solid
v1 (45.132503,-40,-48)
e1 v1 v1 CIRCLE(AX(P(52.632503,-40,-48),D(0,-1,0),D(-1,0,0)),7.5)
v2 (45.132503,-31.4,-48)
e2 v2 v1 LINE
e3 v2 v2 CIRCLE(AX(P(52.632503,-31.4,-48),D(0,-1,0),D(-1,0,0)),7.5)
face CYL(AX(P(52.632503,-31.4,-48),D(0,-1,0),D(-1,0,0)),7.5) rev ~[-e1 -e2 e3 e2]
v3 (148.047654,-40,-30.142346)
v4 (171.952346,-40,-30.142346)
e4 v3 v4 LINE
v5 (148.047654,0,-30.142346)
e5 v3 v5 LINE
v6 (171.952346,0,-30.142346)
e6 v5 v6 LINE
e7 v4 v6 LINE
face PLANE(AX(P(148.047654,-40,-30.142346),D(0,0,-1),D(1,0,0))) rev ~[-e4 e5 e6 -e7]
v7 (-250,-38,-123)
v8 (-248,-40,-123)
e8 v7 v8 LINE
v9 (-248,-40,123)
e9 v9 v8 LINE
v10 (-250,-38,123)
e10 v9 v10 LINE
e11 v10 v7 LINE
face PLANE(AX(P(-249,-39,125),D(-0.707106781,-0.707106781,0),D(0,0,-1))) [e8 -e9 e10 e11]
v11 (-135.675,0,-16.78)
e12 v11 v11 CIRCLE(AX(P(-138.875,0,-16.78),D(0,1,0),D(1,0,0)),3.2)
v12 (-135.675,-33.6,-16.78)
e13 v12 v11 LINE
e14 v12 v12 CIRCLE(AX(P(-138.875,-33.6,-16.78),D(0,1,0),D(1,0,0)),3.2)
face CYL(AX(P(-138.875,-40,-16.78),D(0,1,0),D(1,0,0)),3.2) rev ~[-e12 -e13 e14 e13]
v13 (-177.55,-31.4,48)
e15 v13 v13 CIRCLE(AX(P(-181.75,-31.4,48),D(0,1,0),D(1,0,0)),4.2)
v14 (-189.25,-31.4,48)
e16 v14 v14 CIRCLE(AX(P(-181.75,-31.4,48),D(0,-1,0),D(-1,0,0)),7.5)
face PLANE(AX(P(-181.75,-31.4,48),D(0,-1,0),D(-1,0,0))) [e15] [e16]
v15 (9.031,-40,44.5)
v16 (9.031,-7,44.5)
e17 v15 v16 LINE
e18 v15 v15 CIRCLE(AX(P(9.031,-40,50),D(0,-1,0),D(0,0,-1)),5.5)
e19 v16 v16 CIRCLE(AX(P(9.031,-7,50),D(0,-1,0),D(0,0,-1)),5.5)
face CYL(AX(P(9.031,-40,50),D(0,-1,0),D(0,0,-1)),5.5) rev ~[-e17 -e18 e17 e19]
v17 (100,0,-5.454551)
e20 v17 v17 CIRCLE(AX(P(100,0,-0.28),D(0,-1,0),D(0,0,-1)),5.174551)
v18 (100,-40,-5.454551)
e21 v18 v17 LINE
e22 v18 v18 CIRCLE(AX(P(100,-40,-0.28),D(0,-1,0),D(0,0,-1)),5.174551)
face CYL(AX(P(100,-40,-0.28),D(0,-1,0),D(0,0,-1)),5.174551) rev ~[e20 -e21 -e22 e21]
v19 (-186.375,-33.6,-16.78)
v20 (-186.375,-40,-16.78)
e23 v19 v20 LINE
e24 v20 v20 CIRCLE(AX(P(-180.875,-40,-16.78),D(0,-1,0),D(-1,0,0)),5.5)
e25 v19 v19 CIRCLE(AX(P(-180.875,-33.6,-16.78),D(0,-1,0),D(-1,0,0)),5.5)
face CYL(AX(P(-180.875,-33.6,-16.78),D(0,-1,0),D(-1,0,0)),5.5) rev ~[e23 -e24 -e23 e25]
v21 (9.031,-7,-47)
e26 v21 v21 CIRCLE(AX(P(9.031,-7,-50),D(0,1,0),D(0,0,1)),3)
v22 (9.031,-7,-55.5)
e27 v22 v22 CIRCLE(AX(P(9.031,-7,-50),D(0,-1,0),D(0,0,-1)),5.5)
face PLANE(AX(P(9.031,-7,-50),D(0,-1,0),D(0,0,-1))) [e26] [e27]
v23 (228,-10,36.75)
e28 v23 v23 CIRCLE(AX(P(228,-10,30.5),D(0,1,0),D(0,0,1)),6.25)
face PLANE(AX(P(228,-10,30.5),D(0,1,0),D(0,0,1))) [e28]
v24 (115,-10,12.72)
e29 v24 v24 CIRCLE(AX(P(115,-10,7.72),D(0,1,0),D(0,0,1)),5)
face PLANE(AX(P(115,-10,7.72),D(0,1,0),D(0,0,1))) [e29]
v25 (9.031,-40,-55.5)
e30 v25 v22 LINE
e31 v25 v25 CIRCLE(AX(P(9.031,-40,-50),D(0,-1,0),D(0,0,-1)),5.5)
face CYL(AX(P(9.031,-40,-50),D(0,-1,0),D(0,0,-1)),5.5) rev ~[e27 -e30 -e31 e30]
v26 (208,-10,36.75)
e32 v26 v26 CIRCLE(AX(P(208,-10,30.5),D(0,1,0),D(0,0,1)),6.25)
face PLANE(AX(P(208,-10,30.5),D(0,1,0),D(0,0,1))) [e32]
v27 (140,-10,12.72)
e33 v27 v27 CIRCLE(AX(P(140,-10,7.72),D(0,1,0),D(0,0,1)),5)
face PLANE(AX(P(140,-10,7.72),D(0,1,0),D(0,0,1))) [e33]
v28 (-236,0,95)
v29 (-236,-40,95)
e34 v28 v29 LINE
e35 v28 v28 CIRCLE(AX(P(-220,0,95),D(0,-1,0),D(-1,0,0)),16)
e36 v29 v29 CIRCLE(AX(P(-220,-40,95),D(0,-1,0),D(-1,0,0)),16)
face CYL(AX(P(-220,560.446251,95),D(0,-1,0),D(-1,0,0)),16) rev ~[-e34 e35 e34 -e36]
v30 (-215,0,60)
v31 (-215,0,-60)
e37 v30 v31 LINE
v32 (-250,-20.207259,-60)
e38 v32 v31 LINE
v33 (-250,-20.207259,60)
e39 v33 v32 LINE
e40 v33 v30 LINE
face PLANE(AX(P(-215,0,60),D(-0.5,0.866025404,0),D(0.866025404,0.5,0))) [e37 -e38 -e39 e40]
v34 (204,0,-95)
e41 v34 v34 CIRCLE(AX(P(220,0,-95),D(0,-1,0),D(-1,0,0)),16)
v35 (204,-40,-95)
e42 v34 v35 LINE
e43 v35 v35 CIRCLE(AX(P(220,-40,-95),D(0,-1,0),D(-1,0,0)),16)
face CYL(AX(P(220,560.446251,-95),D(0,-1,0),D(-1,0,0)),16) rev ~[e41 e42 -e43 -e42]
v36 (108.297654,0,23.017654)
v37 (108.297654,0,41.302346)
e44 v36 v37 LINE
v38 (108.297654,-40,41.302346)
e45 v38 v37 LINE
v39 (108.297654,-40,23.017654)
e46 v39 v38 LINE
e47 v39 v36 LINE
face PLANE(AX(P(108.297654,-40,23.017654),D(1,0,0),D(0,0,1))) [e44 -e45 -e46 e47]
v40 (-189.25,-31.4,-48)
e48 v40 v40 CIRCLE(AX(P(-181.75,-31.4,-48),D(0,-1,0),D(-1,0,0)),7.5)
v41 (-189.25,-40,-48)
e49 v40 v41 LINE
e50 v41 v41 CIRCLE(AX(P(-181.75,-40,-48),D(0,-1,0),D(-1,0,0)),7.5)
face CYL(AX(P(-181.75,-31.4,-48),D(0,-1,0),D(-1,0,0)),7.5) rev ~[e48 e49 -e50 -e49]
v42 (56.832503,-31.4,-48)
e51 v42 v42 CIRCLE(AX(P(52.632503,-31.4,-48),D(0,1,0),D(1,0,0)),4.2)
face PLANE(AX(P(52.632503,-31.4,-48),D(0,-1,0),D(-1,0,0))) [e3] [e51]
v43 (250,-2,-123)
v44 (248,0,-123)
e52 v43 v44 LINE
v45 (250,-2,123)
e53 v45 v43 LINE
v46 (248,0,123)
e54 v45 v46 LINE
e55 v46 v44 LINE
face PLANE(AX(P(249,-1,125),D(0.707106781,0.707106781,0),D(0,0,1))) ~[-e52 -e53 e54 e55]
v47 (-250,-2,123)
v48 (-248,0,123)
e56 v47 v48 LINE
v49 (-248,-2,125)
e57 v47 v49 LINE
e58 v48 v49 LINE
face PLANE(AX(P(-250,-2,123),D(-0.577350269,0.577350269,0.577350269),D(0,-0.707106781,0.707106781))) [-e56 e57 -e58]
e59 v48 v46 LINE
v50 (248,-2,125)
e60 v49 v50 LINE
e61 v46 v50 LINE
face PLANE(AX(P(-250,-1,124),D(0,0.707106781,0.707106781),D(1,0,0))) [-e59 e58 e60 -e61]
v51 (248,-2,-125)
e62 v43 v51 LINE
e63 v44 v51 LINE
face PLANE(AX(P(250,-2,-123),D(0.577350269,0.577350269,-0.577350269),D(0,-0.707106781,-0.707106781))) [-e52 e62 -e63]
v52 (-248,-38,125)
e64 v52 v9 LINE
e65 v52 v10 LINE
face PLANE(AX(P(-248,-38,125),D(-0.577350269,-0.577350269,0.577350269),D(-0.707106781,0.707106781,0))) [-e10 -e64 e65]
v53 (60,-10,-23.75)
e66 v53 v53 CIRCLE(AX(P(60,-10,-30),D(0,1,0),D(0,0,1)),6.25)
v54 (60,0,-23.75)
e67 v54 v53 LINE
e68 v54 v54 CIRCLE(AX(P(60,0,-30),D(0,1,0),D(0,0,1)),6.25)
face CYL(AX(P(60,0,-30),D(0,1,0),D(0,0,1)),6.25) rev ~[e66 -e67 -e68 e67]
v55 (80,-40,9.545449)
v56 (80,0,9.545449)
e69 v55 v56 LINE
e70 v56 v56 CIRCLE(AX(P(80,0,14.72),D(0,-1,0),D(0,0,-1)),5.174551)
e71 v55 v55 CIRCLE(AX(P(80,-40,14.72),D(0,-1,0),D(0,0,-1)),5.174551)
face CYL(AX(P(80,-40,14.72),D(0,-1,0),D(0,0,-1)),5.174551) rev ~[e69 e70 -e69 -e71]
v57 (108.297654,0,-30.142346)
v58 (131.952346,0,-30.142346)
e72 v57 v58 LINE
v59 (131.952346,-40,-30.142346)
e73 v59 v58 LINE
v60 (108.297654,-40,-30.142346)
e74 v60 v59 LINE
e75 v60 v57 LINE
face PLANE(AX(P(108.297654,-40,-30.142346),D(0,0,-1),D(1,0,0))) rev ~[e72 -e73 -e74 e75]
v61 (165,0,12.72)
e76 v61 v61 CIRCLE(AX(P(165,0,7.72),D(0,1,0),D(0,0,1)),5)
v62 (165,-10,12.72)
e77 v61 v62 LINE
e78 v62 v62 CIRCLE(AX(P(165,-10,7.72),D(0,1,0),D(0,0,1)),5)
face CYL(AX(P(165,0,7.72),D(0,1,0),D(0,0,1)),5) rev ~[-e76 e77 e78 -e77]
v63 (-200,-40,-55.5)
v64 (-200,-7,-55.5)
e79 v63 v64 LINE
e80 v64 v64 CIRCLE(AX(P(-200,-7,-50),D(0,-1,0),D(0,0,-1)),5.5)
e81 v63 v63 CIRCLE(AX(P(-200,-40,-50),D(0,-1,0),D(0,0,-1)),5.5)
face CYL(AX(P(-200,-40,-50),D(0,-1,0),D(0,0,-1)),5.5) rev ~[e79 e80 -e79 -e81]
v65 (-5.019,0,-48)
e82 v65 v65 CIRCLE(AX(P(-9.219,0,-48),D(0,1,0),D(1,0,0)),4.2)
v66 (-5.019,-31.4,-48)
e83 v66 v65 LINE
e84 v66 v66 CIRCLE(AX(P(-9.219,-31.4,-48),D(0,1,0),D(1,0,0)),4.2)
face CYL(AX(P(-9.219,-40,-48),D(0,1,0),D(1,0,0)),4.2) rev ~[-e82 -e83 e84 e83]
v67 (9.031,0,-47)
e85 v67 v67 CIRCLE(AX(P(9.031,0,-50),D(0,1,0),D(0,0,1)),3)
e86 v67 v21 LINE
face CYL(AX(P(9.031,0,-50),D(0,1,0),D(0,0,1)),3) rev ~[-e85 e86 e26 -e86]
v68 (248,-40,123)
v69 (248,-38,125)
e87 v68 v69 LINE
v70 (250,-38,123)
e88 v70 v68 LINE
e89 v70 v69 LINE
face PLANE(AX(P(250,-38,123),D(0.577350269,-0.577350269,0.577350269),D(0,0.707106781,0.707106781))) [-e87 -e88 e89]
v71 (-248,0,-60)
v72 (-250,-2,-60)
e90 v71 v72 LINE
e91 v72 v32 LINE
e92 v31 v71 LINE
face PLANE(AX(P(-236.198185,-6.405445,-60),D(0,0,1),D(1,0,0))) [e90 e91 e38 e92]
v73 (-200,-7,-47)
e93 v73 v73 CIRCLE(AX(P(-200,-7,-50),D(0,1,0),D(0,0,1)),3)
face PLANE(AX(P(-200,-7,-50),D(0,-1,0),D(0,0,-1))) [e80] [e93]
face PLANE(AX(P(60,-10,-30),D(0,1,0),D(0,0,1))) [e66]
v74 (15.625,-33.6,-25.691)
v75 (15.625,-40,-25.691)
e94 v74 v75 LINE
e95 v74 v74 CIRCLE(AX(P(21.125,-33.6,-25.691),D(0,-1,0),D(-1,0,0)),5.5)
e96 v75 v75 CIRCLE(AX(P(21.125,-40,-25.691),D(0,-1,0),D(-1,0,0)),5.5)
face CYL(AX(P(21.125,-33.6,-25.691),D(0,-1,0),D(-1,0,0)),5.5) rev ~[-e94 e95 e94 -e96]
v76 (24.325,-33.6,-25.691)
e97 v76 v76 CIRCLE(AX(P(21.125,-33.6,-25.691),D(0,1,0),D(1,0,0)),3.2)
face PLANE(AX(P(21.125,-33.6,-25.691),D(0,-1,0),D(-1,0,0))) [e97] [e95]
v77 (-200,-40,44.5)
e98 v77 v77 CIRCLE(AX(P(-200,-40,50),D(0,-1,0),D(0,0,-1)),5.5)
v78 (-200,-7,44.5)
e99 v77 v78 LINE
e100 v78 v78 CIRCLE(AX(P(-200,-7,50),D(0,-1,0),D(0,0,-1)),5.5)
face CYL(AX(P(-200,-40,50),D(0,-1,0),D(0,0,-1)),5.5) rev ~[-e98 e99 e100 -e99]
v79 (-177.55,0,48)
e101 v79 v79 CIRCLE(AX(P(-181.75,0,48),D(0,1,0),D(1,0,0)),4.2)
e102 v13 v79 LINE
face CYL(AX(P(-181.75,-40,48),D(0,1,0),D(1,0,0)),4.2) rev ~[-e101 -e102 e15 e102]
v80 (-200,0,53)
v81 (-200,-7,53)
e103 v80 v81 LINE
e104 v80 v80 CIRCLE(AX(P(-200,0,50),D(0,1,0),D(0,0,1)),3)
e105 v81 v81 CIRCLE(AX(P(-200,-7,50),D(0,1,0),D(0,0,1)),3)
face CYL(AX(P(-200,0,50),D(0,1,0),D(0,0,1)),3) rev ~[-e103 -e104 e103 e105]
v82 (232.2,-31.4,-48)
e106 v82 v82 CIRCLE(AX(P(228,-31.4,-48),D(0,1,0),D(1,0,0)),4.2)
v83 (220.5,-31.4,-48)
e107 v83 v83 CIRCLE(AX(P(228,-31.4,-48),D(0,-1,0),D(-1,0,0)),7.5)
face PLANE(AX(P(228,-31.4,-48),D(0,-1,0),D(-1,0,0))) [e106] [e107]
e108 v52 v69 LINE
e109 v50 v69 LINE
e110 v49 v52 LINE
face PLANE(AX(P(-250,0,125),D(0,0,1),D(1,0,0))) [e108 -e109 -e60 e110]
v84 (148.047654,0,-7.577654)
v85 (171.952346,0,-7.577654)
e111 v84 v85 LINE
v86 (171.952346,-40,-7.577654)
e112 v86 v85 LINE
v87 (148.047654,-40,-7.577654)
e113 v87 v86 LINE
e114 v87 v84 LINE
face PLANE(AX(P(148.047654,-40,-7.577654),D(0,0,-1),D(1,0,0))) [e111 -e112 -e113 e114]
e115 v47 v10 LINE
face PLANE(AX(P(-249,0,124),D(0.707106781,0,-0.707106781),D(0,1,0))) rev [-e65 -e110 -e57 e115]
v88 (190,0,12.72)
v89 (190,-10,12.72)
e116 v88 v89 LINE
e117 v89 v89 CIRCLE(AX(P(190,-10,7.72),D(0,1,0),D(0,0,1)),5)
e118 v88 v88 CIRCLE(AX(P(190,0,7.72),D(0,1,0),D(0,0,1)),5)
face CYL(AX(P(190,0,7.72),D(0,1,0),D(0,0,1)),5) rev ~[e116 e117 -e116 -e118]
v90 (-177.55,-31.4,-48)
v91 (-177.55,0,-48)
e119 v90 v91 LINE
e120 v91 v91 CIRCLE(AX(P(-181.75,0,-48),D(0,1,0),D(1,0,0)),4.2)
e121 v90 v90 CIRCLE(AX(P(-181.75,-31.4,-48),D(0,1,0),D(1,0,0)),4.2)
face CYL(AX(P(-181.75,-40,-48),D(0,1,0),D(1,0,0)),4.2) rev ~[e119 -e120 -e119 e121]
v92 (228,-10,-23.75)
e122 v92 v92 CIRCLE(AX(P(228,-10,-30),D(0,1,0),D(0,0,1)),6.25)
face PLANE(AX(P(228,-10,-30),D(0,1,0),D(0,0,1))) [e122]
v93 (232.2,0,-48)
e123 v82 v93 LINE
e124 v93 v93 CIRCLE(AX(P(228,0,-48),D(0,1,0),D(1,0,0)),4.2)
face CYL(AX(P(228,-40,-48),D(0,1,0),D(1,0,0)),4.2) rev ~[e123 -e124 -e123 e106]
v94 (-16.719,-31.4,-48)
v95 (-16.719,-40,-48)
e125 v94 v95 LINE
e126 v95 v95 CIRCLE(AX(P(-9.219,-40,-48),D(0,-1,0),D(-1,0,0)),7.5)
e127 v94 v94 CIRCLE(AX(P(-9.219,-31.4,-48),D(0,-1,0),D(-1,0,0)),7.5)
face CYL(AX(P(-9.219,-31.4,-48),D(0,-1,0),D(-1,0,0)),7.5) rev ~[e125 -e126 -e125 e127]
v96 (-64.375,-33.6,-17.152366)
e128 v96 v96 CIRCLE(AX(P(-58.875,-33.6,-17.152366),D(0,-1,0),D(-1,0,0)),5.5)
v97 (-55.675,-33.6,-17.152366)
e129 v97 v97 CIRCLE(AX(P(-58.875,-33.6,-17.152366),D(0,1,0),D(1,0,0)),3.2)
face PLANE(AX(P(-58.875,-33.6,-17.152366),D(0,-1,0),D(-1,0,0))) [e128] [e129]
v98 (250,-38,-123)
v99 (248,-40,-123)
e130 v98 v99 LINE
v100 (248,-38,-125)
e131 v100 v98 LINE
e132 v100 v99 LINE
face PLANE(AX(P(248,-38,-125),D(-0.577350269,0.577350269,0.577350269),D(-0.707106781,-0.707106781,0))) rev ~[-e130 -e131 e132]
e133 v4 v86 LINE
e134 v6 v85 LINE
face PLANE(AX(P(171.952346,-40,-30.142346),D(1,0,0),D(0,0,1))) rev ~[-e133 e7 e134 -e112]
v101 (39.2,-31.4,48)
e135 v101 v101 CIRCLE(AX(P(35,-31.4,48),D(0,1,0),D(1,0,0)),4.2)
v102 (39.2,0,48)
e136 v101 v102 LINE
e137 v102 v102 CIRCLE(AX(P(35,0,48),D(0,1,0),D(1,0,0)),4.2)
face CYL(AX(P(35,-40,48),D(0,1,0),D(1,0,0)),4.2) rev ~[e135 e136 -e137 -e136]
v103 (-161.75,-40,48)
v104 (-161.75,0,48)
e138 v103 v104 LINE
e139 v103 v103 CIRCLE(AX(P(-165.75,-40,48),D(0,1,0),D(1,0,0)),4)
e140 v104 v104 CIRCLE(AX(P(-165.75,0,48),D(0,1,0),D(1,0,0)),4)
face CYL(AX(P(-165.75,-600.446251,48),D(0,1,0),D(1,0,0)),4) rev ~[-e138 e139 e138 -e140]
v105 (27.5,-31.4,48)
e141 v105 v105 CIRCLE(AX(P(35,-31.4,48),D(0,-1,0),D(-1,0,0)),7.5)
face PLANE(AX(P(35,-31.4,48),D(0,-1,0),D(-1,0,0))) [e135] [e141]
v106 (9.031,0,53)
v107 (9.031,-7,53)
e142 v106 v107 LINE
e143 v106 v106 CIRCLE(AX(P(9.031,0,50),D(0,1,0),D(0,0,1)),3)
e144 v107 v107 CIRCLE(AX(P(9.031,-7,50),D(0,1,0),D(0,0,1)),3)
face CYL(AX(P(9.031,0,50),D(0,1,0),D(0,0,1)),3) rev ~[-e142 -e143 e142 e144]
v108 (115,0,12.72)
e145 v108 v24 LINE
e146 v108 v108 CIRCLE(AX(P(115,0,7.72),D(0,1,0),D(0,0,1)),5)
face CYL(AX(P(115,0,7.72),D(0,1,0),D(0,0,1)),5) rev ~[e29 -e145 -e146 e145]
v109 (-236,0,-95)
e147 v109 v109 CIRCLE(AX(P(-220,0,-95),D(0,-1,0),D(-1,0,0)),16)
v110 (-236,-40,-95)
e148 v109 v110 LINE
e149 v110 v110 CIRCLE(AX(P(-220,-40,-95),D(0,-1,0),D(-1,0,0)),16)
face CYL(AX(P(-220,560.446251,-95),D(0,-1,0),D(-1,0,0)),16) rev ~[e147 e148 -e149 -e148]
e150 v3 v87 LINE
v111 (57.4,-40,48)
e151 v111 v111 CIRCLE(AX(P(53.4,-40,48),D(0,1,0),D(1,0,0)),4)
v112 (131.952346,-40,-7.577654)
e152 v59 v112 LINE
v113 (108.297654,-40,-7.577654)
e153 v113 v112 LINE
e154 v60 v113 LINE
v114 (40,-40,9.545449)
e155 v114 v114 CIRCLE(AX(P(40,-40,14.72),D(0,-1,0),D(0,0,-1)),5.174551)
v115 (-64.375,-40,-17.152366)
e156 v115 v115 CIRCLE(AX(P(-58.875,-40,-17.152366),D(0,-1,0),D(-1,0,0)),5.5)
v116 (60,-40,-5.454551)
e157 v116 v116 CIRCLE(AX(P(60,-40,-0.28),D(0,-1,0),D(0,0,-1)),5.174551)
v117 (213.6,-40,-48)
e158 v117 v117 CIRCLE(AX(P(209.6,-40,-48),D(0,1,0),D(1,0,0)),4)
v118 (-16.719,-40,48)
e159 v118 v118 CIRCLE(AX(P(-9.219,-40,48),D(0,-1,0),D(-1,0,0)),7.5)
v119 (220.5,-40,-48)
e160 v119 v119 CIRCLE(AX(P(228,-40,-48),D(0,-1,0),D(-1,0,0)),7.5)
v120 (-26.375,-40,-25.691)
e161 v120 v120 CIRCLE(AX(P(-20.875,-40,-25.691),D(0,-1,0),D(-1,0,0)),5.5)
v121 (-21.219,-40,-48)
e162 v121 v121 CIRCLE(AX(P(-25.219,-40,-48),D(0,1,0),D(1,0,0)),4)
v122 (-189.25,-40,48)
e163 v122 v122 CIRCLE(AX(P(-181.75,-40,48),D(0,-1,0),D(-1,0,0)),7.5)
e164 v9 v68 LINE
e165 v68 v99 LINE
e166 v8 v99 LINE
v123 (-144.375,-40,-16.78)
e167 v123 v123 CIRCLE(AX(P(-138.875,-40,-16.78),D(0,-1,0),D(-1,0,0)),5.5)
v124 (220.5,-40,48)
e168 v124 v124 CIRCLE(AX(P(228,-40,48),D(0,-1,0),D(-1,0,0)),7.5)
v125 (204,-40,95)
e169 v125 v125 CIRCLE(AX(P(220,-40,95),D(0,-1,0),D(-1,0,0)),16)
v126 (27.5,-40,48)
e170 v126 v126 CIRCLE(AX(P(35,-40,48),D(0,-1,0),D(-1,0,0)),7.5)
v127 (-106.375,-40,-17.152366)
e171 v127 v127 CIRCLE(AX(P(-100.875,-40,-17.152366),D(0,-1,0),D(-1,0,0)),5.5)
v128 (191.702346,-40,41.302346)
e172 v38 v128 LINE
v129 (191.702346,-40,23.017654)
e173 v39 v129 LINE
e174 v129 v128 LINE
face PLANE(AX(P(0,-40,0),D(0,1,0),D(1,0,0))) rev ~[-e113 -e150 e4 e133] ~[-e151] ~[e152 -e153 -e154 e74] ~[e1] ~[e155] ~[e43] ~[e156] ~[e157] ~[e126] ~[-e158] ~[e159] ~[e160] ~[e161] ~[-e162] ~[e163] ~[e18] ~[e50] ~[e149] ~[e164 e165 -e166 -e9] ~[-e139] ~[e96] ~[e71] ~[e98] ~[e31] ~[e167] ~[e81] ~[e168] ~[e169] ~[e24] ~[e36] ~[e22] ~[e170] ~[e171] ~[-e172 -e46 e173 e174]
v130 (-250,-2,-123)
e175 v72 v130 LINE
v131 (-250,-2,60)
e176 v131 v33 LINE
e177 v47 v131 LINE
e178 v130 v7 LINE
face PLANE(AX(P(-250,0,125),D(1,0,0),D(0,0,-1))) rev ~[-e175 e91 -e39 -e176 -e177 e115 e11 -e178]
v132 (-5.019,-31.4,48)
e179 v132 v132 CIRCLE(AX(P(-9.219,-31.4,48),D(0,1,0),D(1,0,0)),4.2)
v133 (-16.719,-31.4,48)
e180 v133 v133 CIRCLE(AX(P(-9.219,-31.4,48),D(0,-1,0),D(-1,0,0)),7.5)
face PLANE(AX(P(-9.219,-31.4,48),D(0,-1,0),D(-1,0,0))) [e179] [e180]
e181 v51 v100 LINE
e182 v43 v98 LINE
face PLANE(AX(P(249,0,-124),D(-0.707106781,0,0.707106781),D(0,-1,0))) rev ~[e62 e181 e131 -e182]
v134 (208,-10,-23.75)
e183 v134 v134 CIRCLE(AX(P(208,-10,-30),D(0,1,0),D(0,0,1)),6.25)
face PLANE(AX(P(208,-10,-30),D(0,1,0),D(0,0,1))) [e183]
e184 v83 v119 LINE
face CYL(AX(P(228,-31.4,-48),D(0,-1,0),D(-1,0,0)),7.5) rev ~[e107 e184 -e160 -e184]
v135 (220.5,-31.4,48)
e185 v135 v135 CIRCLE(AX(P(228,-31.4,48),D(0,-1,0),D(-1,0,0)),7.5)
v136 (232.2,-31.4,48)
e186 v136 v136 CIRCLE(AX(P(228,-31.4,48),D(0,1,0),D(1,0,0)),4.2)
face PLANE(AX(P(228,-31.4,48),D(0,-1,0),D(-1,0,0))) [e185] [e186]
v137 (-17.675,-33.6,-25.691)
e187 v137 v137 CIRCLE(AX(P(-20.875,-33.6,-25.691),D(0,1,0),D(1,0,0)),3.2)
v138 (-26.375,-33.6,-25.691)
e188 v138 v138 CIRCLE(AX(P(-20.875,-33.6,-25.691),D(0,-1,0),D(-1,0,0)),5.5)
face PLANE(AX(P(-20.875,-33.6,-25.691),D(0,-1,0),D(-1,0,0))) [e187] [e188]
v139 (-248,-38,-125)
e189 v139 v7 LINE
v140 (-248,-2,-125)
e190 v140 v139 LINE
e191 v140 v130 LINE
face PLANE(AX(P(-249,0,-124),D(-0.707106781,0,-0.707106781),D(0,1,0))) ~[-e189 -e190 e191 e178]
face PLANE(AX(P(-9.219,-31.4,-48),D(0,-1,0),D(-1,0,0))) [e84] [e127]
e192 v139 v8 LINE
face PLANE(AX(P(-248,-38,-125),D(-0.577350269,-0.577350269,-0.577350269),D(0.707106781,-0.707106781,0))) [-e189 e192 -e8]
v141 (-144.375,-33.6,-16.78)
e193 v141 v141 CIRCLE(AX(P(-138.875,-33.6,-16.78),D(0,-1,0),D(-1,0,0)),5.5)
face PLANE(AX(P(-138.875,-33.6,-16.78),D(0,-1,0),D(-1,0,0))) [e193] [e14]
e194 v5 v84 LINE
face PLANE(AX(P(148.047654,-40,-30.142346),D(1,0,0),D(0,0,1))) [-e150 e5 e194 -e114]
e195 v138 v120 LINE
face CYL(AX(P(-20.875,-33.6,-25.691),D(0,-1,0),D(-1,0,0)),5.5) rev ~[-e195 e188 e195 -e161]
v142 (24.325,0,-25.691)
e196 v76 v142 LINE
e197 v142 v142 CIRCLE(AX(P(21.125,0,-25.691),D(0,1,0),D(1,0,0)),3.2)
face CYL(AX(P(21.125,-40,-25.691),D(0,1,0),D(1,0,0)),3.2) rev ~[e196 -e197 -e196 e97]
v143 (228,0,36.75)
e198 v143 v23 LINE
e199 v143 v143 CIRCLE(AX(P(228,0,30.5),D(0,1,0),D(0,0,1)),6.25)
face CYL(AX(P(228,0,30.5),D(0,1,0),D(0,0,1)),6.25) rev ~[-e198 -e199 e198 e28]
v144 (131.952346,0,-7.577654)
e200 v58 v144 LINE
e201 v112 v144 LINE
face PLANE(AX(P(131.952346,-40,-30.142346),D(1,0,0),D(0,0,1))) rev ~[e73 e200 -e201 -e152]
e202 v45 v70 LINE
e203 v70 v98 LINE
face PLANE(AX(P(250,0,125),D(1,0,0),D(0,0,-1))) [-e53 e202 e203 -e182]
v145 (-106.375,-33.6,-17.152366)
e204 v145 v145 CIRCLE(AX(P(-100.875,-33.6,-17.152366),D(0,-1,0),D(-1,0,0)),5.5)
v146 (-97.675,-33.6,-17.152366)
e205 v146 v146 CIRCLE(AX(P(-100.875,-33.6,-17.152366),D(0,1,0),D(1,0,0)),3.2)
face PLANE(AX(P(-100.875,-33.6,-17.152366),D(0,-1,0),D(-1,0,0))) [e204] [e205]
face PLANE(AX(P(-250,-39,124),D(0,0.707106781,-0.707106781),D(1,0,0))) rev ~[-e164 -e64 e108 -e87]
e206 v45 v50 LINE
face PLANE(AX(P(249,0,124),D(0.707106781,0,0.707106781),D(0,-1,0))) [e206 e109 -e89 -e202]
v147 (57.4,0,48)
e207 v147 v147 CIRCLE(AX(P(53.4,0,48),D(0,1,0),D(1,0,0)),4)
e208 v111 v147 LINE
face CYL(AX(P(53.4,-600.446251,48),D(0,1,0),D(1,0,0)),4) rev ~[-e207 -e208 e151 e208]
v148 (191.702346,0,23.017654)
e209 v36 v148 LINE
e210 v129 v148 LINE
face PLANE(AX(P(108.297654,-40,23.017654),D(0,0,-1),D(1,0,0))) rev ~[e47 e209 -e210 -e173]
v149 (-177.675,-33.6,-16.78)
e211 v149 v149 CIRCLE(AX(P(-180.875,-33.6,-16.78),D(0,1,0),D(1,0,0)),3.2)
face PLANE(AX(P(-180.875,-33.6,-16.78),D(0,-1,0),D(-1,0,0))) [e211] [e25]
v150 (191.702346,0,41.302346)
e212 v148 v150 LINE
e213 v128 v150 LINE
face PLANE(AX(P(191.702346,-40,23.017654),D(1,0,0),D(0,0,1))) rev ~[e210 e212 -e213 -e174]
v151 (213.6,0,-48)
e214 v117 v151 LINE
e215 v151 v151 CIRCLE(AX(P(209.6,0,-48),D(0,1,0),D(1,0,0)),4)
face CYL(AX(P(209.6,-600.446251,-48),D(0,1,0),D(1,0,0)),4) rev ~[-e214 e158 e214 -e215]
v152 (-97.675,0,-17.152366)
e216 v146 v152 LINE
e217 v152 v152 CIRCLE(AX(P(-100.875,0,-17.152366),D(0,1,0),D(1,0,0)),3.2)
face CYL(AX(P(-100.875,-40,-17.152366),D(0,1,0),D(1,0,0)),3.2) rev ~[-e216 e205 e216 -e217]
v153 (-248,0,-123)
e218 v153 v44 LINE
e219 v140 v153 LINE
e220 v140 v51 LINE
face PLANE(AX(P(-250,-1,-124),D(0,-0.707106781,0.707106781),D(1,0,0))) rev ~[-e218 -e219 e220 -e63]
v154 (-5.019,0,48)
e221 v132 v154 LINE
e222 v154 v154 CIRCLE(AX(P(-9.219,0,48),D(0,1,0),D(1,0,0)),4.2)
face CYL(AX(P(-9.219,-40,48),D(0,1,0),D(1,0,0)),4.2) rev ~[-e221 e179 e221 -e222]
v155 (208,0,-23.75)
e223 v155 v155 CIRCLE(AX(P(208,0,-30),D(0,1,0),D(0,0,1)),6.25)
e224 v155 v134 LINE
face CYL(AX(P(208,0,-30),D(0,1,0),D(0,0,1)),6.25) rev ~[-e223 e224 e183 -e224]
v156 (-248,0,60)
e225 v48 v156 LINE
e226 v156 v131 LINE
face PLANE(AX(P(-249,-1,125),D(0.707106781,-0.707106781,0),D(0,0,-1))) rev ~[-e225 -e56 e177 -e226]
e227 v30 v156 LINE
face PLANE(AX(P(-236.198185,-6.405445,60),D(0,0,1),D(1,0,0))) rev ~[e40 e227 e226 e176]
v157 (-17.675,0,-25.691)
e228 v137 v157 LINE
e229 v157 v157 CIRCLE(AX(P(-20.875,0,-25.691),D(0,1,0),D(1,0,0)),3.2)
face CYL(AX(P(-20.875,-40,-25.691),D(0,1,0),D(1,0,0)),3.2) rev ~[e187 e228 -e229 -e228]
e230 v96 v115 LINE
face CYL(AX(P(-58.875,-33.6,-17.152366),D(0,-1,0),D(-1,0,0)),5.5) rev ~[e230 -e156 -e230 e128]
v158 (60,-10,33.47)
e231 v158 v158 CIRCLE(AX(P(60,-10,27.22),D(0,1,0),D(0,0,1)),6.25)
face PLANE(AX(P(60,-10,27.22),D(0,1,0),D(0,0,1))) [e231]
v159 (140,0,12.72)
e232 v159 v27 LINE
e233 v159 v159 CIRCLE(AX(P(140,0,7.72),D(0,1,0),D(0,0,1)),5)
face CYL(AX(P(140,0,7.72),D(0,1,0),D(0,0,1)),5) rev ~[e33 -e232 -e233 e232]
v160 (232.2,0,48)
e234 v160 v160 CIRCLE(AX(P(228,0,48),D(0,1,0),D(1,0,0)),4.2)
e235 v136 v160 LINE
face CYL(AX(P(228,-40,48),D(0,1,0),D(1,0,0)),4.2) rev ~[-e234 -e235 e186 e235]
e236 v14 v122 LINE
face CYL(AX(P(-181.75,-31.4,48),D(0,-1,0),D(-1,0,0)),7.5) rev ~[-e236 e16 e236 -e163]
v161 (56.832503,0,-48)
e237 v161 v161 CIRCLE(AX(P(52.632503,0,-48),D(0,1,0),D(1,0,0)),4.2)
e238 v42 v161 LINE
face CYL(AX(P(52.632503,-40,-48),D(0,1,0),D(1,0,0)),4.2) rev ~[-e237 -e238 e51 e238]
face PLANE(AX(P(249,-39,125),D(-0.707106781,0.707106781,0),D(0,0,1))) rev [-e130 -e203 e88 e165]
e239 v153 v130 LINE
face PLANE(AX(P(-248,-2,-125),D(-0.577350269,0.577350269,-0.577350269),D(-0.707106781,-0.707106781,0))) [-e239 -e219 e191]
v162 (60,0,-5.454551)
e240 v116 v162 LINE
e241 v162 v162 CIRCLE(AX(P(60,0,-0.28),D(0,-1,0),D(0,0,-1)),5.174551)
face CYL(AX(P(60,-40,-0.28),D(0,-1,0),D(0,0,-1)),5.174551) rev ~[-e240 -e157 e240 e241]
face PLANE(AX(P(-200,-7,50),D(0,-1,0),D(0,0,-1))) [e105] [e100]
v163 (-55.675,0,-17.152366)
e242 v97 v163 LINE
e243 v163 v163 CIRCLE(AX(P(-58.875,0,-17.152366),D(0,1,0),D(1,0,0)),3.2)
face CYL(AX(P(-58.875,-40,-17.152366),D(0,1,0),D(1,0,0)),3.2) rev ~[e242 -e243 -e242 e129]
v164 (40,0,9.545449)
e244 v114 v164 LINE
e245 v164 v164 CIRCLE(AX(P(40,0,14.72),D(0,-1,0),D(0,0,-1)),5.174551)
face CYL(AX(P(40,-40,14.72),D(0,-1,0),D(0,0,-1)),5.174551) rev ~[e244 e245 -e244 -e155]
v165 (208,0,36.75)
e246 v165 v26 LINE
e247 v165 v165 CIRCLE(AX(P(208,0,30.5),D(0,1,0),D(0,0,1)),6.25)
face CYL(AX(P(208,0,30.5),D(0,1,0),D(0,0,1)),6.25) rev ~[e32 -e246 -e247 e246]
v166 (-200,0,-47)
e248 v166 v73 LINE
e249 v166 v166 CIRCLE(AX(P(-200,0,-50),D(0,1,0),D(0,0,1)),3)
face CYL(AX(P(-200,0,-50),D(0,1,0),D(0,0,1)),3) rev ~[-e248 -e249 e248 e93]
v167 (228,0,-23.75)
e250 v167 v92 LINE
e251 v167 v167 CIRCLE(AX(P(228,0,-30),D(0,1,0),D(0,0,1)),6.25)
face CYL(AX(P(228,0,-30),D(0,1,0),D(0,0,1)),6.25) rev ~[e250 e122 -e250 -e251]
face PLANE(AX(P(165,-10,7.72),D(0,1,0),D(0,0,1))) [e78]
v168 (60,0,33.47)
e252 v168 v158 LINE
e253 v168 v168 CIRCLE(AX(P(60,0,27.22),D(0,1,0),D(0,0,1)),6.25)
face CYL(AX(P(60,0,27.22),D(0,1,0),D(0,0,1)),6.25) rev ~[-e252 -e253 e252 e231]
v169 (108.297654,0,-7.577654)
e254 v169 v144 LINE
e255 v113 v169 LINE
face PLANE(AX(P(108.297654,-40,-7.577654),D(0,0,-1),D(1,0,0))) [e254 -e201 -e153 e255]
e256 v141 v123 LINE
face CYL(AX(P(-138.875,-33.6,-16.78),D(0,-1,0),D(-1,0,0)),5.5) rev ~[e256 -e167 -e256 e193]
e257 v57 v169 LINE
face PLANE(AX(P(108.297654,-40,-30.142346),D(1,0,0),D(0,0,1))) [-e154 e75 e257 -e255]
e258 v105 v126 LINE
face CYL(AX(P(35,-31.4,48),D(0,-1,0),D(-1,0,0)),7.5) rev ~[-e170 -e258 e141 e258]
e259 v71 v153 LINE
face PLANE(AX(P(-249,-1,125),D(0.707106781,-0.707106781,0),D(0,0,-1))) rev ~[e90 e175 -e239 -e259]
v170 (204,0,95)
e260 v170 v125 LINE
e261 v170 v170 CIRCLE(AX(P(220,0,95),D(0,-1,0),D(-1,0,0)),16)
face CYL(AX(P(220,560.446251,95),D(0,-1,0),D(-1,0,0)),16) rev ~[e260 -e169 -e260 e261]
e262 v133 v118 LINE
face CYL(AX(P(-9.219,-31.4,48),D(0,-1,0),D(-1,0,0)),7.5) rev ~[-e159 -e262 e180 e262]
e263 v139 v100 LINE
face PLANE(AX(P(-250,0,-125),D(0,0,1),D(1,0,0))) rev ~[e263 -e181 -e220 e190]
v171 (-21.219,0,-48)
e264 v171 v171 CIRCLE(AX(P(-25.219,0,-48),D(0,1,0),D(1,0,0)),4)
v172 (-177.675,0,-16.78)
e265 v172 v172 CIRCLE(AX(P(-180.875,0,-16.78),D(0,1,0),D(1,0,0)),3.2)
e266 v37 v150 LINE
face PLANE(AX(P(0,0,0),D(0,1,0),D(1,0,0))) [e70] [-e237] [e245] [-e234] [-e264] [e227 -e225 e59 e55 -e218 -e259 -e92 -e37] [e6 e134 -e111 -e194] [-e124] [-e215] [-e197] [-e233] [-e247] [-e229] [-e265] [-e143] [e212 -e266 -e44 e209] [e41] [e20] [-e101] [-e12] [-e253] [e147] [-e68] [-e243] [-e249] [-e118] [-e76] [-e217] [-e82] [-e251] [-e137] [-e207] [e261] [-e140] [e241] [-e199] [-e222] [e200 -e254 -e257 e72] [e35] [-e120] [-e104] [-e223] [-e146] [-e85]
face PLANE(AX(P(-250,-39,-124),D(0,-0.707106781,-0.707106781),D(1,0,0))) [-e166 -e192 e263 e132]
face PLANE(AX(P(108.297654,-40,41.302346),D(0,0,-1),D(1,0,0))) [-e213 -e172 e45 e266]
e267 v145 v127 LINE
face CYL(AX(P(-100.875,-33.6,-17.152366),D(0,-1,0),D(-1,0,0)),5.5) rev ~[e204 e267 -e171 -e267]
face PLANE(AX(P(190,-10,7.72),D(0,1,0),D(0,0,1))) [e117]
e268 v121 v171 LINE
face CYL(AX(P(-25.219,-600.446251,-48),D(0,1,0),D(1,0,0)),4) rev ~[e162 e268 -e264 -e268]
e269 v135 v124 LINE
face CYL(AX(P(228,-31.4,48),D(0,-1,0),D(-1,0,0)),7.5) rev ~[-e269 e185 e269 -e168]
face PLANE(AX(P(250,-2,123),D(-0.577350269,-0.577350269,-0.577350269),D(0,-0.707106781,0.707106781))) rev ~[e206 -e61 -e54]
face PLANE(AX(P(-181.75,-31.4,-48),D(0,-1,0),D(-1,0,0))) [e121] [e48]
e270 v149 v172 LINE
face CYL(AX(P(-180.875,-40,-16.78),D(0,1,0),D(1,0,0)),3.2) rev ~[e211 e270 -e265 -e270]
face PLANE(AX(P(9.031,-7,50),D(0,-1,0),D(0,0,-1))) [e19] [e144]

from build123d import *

# Parameters (mm, degrees)
SKETCH1_W                                           = 500
SKETCH1_H                                           = 250
BOSS_EXTRUDE1_DEPTH                                 = 40
F_32_0_32_DIAMETER_HOLE1_D                          = 32
CHAMFER1_SIZE                                       = 2
CBORE_FOR_M8_HEX_SOCKET_HEAD_CAP_SCREW1_D           = 8.4
CBORE_FOR_M8_HEX_SOCKET_HEAD_CAP_SCREW1_CBORE_D     = 15
CBORE_FOR_M8_HEX_SOCKET_HEAD_CAP_SCREW1_CBORE_DEPTH = 8.6
F_8_0MM_DOWEL_HOLE1_D                               = 8
SKETCH16_R                                          = 6.25
SKETCH16_R_2                                        = 5
CUT_EXTRUDE1_DEPTH                                  = 10
CUT_EXTRUDE2_REACH                                  = 284.356
SKETCH18_R                                          = 3
SKETCH19_R                                          = 5.5
CUT_EXTRUDE3_DEPTH                                  = 33
CBORE_FOR_M6_HEX_SOCKET_HEAD_CAP_SCREW1_D           = 6.4
CBORE_FOR_M6_HEX_SOCKET_HEAD_CAP_SCREW1_CBORE_D     = 11
CBORE_FOR_M6_HEX_SOCKET_HEAD_CAP_SCREW1_CBORE_DEPTH = 6.4
CUT_EXTRUDE4_REACH                                  = 284.356
SKETCH23_R                                          = 5.174550649
SKETCH23_W                                          = 83.404692778
SKETCH23_H                                          = 18.284692778
SKETCH23_W_2                                        = 23.904692778
SKETCH23_H_2                                        = 22.564692778
SKETCH23_W_3                                        = 23.654692778


with BuildPart() as part:
    # Sketch1 → Boss-Extrude1 (new body)
    with BuildSketch(Plane(origin=(0, 0, 0), x_dir=(1, 0, 0), z_dir=(0, 1, 0))):
        Rectangle(SKETCH1_W, SKETCH1_H)
    extrude(amount=-BOSS_EXTRUDE1_DEPTH)

    # Ø32.0 (32) Diameter Hole1 (through all)
    with Locations(Plane(origin=(0, 0, 0), x_dir=(1, 0, 0), z_dir=(0, 1, 0))):
        with Locations((-220, 95), (-220, -95), (220, -95), (220, 95)):
            Hole(F_32_0_32_DIAMETER_HOLE1_D / 2)

    # Chamfer1
    chamfer1_edges = [part.edges().sort_by_distance(p)[0] for p in [
        (-250, -40, 0),
        (0, -40, 125),
        (250, -40, 0),
        (0, 0, 125),
        (-250, 0, 0),
        (0, 0, -125),
        (250, 0, 0),
        (250, -20, 125),
        (-250, -20, 125),
        (-250, -20, -125),
        (250, -20, -125),
        (0, -40, -125),
    ]]
    chamfer(chamfer1_edges, length=CHAMFER1_SIZE)

    # CBORE for M8 Hex Socket Head Cap Screw1 (through all)
    with Locations(Plane(origin=(0, -40, 0), x_dir=(-1, 0, 0), z_dir=(0, -1, 0))):
        with Locations((-228, 48), (-52.632503002, 48), (-228, -48), (-35, -48), (9.219, 48), (181.75, 48), (181.75, -48), (9.219, -48)):
            CounterBoreHole(CBORE_FOR_M8_HEX_SOCKET_HEAD_CAP_SCREW1_D / 2, CBORE_FOR_M8_HEX_SOCKET_HEAD_CAP_SCREW1_CBORE_D / 2, CBORE_FOR_M8_HEX_SOCKET_HEAD_CAP_SCREW1_CBORE_DEPTH)

    # Ø8.0mm Dowel Hole1 (through all)
    with Locations(Plane(origin=(0, -40, 0), x_dir=(-1, 0, 0), z_dir=(0, -1, 0))):
        with Locations((-53.4, -48), (-209.6, 48), (25.219, 48), (165.75, -48)):
            Hole(F_8_0MM_DOWEL_HOLE1_D / 2)

    # Sketch16 → Cut-Extrude1 (cut)
    with BuildSketch(Plane(origin=(0, 0, 0), x_dir=(1, 0, 0), z_dir=(0, 1, 0))):
        with Locations(Location((60, 30, 0), (0, 0, 270))):
            Circle(SKETCH16_R)
        with Locations(Location((208, 30, 0), (0, 0, 270))):
            Circle(SKETCH16_R)
        with Locations(Location((228, 30, 0), (0, 0, 270))):
            Circle(SKETCH16_R)
        with Locations(Location((228, -30.5, 0), (0, 0, 270))):
            Circle(SKETCH16_R)
        with Locations(Location((208, -30.5, 0), (0, 0, 270))):
            Circle(SKETCH16_R)
        with Locations(Location((190, -7.72, 0), (0, 0, 270))):
            Circle(SKETCH16_R_2)
        with Locations(Location((165, -7.72, 0), (0, 0, 270))):
            Circle(SKETCH16_R_2)
        with Locations(Location((140, -7.72, 0), (0, 0, 270))):
            Circle(SKETCH16_R_2)
        with Locations(Location((115, -7.72, 0), (0, 0, 270))):
            Circle(SKETCH16_R_2)
        with Locations(Location((60, -27.22, 0), (0, 0, 270))):
            Circle(SKETCH16_R)
    extrude(amount=-CUT_EXTRUDE1_DEPTH, mode=Mode.SUBTRACT)

    # Sketch18 → Cut-Extrude2 (cut, up to next)
    with BuildSketch(Plane(origin=(0, 0, 0), x_dir=(1, 0, 0), z_dir=(0, 1, 0)), mode=Mode.PRIVATE) as cut_extrude2_sk1:
        with Locations(Location((-200, -50, 0), (0, 0, 270))):
            Circle(SKETCH18_R)
    cut_extrude2_tool1 = extrude(cut_extrude2_sk1.sketch, amount=-CUT_EXTRUDE2_REACH, mode=Mode.PRIVATE) & part.part
    # Sketch18 → Cut-Extrude2 (cut, up to next)
    with BuildSketch(Plane(origin=(0, 0, 0), x_dir=(1, 0, 0), z_dir=(0, 1, 0)), mode=Mode.PRIVATE) as cut_extrude2_sk2:
        with Locations(Location((-200, 50, 0), (0, 0, 270))):
            Circle(SKETCH18_R)
    cut_extrude2_tool2 = extrude(cut_extrude2_sk2.sketch, amount=-CUT_EXTRUDE2_REACH, mode=Mode.PRIVATE) & part.part
    # Sketch18 → Cut-Extrude2 (cut, up to next)
    with BuildSketch(Plane(origin=(0, 0, 0), x_dir=(1, 0, 0), z_dir=(0, 1, 0)), mode=Mode.PRIVATE) as cut_extrude2_sk3:
        with Locations(Location((9.031, 50, 0), (0, 0, 270))):
            Circle(SKETCH18_R)
    cut_extrude2_tool3 = extrude(cut_extrude2_sk3.sketch, amount=-CUT_EXTRUDE2_REACH, mode=Mode.PRIVATE) & part.part
    # Sketch18 → Cut-Extrude2 (cut, up to next)
    with BuildSketch(Plane(origin=(0, 0, 0), x_dir=(1, 0, 0), z_dir=(0, 1, 0)), mode=Mode.PRIVATE) as cut_extrude2_sk4:
        with Locations(Location((9.031, -50, 0), (0, 0, 270))):
            Circle(SKETCH18_R)
    cut_extrude2_tool4 = extrude(cut_extrude2_sk4.sketch, amount=-CUT_EXTRUDE2_REACH, mode=Mode.PRIVATE) & part.part
    add(cut_extrude2_tool1.solids().sort_by_distance((-200, 0, 50))[0], mode=Mode.SUBTRACT)
    add(cut_extrude2_tool2.solids().sort_by_distance((-200, 0, -50))[0], mode=Mode.SUBTRACT)
    add(cut_extrude2_tool3.solids().sort_by_distance((9.031, 0, -50))[0], mode=Mode.SUBTRACT)
    add(cut_extrude2_tool4.solids().sort_by_distance((9.031, 0, 50))[0], mode=Mode.SUBTRACT)

    # Sketch19 → Cut-Extrude3 (cut)
    with BuildSketch(Plane.XZ.offset(40)):
        with Locations(Location((-200, 50, 0), (0, 0, 270))):
            Circle(SKETCH19_R)
        with Locations(Location((-200, -50, 0), (0, 0, 270))):
            Circle(SKETCH19_R)
        with Locations(Location((9.031, -50, 0), (0, 0, 270))):
            Circle(SKETCH19_R)
        with Locations(Location((9.031, 50, 0), (0, 0, 270))):
            Circle(SKETCH19_R)
    extrude(amount=-CUT_EXTRUDE3_DEPTH, mode=Mode.SUBTRACT)

    # CBORE for M6 Hex Socket Head Cap Screw1 (through all)
    with Locations(Plane(origin=(0, -40, 0), x_dir=(-1, 0, 0), z_dir=(0, -1, 0))):
        with Locations((-21.125, 25.691000385), (20.875, 25.691000385), (58.875, 17.152366083), (100.875, 17.152366083), (138.875, 16.78), (180.875, 16.78)):
            CounterBoreHole(CBORE_FOR_M6_HEX_SOCKET_HEAD_CAP_SCREW1_D / 2, CBORE_FOR_M6_HEX_SOCKET_HEAD_CAP_SCREW1_CBORE_D / 2, CBORE_FOR_M6_HEX_SOCKET_HEAD_CAP_SCREW1_CBORE_DEPTH)

    # Sketch23 → Cut-Extrude4 (cut, up to next)
    with BuildSketch(Plane.XZ.offset(40), mode=Mode.PRIVATE) as cut_extrude4_sk1:
        with Locations(Location((100, -0.28, 0), (0, 0, 270))):
            Circle(SKETCH23_R)
    cut_extrude4_tool1 = extrude(cut_extrude4_sk1.sketch, amount=-CUT_EXTRUDE4_REACH, mode=Mode.PRIVATE) & part.part
    # Sketch23 → Cut-Extrude4 (cut, up to next)
    with BuildSketch(Plane.XZ.offset(40), mode=Mode.PRIVATE) as cut_extrude4_sk2:
        with Locations(Location((80, 14.72, 0), (0, 0, 270))):
            Circle(SKETCH23_R)
    cut_extrude4_tool2 = extrude(cut_extrude4_sk2.sketch, amount=-CUT_EXTRUDE4_REACH, mode=Mode.PRIVATE) & part.part
    # Sketch23 → Cut-Extrude4 (cut, up to next)
    with BuildSketch(Plane.XZ.offset(40), mode=Mode.PRIVATE) as cut_extrude4_sk3:
        with Locations(Location((60, -0.28, 0), (0, 0, 270))):
            Circle(SKETCH23_R)
    cut_extrude4_tool3 = extrude(cut_extrude4_sk3.sketch, amount=-CUT_EXTRUDE4_REACH, mode=Mode.PRIVATE) & part.part
    # Sketch23 → Cut-Extrude4 (cut, up to next)
    with BuildSketch(Plane.XZ.offset(40), mode=Mode.PRIVATE) as cut_extrude4_sk4:
        with Locations(Location((40, 14.72, 0), (0, 0, 270))):
            Circle(SKETCH23_R)
    cut_extrude4_tool4 = extrude(cut_extrude4_sk4.sketch, amount=-CUT_EXTRUDE4_REACH, mode=Mode.PRIVATE) & part.part
    # Sketch23 → Cut-Extrude4 (cut, up to next)
    with BuildSketch(Plane.XZ.offset(40), mode=Mode.PRIVATE) as cut_extrude4_sk5:
        with Locations((150, 32.16)):
            Rectangle(SKETCH23_W, SKETCH23_H)
    cut_extrude4_tool5 = extrude(cut_extrude4_sk5.sketch, amount=-CUT_EXTRUDE4_REACH, mode=Mode.PRIVATE) & part.part
    # Sketch23 → Cut-Extrude4 (cut, up to next)
    with BuildSketch(Plane.XZ.offset(40), mode=Mode.PRIVATE) as cut_extrude4_sk6:
        with Locations((160, -18.86)):
            Rectangle(SKETCH23_W_2, SKETCH23_H_2)
    cut_extrude4_tool6 = extrude(cut_extrude4_sk6.sketch, amount=-CUT_EXTRUDE4_REACH, mode=Mode.PRIVATE) & part.part
    # Sketch23 → Cut-Extrude4 (cut, up to next)
    with BuildSketch(Plane.XZ.offset(40), mode=Mode.PRIVATE) as cut_extrude4_sk7:
        with Locations((120.125, -18.86)):
            Rectangle(SKETCH23_W_3, SKETCH23_H_2)
    cut_extrude4_tool7 = extrude(cut_extrude4_sk7.sketch, amount=-CUT_EXTRUDE4_REACH, mode=Mode.PRIVATE) & part.part
    add(cut_extrude4_tool1.solids().sort_by_distance((100, -40, -0.28))[0], mode=Mode.SUBTRACT)
    add(cut_extrude4_tool2.solids().sort_by_distance((80, -40, 14.72))[0], mode=Mode.SUBTRACT)
    add(cut_extrude4_tool3.solids().sort_by_distance((60, -40, -0.28))[0], mode=Mode.SUBTRACT)
    add(cut_extrude4_tool4.solids().sort_by_distance((40, -40, 14.72))[0], mode=Mode.SUBTRACT)
    add(cut_extrude4_tool5.solids().sort_by_distance((150, -40, 32.16))[0], mode=Mode.SUBTRACT)
    add(cut_extrude4_tool6.solids().sort_by_distance((160, -40, -18.86))[0], mode=Mode.SUBTRACT)
    add(cut_extrude4_tool7.solids().sort_by_distance((120.125, -40, -18.86))[0], mode=Mode.SUBTRACT)

    # Cut-Sweep1: sweep along a path in Sketch24
    with BuildLine(Plane(origin=(0, 0, 0), x_dir=(1, 0, 0), z_dir=(0, 1, 0))) as cut_sweep1_path:
        Line((-215, -60), (-215, 60))
    # Sketch25 → Cut-Sweep1 (sweep, cut)
    with BuildSketch(Plane.XY):
        Polygon((-215, 0), (-250, -20.207259422), (-250, 0), align=None)
    sweep(path=cut_sweep1_path.line, mode=Mode.SUBTRACT)


solid = part.part
